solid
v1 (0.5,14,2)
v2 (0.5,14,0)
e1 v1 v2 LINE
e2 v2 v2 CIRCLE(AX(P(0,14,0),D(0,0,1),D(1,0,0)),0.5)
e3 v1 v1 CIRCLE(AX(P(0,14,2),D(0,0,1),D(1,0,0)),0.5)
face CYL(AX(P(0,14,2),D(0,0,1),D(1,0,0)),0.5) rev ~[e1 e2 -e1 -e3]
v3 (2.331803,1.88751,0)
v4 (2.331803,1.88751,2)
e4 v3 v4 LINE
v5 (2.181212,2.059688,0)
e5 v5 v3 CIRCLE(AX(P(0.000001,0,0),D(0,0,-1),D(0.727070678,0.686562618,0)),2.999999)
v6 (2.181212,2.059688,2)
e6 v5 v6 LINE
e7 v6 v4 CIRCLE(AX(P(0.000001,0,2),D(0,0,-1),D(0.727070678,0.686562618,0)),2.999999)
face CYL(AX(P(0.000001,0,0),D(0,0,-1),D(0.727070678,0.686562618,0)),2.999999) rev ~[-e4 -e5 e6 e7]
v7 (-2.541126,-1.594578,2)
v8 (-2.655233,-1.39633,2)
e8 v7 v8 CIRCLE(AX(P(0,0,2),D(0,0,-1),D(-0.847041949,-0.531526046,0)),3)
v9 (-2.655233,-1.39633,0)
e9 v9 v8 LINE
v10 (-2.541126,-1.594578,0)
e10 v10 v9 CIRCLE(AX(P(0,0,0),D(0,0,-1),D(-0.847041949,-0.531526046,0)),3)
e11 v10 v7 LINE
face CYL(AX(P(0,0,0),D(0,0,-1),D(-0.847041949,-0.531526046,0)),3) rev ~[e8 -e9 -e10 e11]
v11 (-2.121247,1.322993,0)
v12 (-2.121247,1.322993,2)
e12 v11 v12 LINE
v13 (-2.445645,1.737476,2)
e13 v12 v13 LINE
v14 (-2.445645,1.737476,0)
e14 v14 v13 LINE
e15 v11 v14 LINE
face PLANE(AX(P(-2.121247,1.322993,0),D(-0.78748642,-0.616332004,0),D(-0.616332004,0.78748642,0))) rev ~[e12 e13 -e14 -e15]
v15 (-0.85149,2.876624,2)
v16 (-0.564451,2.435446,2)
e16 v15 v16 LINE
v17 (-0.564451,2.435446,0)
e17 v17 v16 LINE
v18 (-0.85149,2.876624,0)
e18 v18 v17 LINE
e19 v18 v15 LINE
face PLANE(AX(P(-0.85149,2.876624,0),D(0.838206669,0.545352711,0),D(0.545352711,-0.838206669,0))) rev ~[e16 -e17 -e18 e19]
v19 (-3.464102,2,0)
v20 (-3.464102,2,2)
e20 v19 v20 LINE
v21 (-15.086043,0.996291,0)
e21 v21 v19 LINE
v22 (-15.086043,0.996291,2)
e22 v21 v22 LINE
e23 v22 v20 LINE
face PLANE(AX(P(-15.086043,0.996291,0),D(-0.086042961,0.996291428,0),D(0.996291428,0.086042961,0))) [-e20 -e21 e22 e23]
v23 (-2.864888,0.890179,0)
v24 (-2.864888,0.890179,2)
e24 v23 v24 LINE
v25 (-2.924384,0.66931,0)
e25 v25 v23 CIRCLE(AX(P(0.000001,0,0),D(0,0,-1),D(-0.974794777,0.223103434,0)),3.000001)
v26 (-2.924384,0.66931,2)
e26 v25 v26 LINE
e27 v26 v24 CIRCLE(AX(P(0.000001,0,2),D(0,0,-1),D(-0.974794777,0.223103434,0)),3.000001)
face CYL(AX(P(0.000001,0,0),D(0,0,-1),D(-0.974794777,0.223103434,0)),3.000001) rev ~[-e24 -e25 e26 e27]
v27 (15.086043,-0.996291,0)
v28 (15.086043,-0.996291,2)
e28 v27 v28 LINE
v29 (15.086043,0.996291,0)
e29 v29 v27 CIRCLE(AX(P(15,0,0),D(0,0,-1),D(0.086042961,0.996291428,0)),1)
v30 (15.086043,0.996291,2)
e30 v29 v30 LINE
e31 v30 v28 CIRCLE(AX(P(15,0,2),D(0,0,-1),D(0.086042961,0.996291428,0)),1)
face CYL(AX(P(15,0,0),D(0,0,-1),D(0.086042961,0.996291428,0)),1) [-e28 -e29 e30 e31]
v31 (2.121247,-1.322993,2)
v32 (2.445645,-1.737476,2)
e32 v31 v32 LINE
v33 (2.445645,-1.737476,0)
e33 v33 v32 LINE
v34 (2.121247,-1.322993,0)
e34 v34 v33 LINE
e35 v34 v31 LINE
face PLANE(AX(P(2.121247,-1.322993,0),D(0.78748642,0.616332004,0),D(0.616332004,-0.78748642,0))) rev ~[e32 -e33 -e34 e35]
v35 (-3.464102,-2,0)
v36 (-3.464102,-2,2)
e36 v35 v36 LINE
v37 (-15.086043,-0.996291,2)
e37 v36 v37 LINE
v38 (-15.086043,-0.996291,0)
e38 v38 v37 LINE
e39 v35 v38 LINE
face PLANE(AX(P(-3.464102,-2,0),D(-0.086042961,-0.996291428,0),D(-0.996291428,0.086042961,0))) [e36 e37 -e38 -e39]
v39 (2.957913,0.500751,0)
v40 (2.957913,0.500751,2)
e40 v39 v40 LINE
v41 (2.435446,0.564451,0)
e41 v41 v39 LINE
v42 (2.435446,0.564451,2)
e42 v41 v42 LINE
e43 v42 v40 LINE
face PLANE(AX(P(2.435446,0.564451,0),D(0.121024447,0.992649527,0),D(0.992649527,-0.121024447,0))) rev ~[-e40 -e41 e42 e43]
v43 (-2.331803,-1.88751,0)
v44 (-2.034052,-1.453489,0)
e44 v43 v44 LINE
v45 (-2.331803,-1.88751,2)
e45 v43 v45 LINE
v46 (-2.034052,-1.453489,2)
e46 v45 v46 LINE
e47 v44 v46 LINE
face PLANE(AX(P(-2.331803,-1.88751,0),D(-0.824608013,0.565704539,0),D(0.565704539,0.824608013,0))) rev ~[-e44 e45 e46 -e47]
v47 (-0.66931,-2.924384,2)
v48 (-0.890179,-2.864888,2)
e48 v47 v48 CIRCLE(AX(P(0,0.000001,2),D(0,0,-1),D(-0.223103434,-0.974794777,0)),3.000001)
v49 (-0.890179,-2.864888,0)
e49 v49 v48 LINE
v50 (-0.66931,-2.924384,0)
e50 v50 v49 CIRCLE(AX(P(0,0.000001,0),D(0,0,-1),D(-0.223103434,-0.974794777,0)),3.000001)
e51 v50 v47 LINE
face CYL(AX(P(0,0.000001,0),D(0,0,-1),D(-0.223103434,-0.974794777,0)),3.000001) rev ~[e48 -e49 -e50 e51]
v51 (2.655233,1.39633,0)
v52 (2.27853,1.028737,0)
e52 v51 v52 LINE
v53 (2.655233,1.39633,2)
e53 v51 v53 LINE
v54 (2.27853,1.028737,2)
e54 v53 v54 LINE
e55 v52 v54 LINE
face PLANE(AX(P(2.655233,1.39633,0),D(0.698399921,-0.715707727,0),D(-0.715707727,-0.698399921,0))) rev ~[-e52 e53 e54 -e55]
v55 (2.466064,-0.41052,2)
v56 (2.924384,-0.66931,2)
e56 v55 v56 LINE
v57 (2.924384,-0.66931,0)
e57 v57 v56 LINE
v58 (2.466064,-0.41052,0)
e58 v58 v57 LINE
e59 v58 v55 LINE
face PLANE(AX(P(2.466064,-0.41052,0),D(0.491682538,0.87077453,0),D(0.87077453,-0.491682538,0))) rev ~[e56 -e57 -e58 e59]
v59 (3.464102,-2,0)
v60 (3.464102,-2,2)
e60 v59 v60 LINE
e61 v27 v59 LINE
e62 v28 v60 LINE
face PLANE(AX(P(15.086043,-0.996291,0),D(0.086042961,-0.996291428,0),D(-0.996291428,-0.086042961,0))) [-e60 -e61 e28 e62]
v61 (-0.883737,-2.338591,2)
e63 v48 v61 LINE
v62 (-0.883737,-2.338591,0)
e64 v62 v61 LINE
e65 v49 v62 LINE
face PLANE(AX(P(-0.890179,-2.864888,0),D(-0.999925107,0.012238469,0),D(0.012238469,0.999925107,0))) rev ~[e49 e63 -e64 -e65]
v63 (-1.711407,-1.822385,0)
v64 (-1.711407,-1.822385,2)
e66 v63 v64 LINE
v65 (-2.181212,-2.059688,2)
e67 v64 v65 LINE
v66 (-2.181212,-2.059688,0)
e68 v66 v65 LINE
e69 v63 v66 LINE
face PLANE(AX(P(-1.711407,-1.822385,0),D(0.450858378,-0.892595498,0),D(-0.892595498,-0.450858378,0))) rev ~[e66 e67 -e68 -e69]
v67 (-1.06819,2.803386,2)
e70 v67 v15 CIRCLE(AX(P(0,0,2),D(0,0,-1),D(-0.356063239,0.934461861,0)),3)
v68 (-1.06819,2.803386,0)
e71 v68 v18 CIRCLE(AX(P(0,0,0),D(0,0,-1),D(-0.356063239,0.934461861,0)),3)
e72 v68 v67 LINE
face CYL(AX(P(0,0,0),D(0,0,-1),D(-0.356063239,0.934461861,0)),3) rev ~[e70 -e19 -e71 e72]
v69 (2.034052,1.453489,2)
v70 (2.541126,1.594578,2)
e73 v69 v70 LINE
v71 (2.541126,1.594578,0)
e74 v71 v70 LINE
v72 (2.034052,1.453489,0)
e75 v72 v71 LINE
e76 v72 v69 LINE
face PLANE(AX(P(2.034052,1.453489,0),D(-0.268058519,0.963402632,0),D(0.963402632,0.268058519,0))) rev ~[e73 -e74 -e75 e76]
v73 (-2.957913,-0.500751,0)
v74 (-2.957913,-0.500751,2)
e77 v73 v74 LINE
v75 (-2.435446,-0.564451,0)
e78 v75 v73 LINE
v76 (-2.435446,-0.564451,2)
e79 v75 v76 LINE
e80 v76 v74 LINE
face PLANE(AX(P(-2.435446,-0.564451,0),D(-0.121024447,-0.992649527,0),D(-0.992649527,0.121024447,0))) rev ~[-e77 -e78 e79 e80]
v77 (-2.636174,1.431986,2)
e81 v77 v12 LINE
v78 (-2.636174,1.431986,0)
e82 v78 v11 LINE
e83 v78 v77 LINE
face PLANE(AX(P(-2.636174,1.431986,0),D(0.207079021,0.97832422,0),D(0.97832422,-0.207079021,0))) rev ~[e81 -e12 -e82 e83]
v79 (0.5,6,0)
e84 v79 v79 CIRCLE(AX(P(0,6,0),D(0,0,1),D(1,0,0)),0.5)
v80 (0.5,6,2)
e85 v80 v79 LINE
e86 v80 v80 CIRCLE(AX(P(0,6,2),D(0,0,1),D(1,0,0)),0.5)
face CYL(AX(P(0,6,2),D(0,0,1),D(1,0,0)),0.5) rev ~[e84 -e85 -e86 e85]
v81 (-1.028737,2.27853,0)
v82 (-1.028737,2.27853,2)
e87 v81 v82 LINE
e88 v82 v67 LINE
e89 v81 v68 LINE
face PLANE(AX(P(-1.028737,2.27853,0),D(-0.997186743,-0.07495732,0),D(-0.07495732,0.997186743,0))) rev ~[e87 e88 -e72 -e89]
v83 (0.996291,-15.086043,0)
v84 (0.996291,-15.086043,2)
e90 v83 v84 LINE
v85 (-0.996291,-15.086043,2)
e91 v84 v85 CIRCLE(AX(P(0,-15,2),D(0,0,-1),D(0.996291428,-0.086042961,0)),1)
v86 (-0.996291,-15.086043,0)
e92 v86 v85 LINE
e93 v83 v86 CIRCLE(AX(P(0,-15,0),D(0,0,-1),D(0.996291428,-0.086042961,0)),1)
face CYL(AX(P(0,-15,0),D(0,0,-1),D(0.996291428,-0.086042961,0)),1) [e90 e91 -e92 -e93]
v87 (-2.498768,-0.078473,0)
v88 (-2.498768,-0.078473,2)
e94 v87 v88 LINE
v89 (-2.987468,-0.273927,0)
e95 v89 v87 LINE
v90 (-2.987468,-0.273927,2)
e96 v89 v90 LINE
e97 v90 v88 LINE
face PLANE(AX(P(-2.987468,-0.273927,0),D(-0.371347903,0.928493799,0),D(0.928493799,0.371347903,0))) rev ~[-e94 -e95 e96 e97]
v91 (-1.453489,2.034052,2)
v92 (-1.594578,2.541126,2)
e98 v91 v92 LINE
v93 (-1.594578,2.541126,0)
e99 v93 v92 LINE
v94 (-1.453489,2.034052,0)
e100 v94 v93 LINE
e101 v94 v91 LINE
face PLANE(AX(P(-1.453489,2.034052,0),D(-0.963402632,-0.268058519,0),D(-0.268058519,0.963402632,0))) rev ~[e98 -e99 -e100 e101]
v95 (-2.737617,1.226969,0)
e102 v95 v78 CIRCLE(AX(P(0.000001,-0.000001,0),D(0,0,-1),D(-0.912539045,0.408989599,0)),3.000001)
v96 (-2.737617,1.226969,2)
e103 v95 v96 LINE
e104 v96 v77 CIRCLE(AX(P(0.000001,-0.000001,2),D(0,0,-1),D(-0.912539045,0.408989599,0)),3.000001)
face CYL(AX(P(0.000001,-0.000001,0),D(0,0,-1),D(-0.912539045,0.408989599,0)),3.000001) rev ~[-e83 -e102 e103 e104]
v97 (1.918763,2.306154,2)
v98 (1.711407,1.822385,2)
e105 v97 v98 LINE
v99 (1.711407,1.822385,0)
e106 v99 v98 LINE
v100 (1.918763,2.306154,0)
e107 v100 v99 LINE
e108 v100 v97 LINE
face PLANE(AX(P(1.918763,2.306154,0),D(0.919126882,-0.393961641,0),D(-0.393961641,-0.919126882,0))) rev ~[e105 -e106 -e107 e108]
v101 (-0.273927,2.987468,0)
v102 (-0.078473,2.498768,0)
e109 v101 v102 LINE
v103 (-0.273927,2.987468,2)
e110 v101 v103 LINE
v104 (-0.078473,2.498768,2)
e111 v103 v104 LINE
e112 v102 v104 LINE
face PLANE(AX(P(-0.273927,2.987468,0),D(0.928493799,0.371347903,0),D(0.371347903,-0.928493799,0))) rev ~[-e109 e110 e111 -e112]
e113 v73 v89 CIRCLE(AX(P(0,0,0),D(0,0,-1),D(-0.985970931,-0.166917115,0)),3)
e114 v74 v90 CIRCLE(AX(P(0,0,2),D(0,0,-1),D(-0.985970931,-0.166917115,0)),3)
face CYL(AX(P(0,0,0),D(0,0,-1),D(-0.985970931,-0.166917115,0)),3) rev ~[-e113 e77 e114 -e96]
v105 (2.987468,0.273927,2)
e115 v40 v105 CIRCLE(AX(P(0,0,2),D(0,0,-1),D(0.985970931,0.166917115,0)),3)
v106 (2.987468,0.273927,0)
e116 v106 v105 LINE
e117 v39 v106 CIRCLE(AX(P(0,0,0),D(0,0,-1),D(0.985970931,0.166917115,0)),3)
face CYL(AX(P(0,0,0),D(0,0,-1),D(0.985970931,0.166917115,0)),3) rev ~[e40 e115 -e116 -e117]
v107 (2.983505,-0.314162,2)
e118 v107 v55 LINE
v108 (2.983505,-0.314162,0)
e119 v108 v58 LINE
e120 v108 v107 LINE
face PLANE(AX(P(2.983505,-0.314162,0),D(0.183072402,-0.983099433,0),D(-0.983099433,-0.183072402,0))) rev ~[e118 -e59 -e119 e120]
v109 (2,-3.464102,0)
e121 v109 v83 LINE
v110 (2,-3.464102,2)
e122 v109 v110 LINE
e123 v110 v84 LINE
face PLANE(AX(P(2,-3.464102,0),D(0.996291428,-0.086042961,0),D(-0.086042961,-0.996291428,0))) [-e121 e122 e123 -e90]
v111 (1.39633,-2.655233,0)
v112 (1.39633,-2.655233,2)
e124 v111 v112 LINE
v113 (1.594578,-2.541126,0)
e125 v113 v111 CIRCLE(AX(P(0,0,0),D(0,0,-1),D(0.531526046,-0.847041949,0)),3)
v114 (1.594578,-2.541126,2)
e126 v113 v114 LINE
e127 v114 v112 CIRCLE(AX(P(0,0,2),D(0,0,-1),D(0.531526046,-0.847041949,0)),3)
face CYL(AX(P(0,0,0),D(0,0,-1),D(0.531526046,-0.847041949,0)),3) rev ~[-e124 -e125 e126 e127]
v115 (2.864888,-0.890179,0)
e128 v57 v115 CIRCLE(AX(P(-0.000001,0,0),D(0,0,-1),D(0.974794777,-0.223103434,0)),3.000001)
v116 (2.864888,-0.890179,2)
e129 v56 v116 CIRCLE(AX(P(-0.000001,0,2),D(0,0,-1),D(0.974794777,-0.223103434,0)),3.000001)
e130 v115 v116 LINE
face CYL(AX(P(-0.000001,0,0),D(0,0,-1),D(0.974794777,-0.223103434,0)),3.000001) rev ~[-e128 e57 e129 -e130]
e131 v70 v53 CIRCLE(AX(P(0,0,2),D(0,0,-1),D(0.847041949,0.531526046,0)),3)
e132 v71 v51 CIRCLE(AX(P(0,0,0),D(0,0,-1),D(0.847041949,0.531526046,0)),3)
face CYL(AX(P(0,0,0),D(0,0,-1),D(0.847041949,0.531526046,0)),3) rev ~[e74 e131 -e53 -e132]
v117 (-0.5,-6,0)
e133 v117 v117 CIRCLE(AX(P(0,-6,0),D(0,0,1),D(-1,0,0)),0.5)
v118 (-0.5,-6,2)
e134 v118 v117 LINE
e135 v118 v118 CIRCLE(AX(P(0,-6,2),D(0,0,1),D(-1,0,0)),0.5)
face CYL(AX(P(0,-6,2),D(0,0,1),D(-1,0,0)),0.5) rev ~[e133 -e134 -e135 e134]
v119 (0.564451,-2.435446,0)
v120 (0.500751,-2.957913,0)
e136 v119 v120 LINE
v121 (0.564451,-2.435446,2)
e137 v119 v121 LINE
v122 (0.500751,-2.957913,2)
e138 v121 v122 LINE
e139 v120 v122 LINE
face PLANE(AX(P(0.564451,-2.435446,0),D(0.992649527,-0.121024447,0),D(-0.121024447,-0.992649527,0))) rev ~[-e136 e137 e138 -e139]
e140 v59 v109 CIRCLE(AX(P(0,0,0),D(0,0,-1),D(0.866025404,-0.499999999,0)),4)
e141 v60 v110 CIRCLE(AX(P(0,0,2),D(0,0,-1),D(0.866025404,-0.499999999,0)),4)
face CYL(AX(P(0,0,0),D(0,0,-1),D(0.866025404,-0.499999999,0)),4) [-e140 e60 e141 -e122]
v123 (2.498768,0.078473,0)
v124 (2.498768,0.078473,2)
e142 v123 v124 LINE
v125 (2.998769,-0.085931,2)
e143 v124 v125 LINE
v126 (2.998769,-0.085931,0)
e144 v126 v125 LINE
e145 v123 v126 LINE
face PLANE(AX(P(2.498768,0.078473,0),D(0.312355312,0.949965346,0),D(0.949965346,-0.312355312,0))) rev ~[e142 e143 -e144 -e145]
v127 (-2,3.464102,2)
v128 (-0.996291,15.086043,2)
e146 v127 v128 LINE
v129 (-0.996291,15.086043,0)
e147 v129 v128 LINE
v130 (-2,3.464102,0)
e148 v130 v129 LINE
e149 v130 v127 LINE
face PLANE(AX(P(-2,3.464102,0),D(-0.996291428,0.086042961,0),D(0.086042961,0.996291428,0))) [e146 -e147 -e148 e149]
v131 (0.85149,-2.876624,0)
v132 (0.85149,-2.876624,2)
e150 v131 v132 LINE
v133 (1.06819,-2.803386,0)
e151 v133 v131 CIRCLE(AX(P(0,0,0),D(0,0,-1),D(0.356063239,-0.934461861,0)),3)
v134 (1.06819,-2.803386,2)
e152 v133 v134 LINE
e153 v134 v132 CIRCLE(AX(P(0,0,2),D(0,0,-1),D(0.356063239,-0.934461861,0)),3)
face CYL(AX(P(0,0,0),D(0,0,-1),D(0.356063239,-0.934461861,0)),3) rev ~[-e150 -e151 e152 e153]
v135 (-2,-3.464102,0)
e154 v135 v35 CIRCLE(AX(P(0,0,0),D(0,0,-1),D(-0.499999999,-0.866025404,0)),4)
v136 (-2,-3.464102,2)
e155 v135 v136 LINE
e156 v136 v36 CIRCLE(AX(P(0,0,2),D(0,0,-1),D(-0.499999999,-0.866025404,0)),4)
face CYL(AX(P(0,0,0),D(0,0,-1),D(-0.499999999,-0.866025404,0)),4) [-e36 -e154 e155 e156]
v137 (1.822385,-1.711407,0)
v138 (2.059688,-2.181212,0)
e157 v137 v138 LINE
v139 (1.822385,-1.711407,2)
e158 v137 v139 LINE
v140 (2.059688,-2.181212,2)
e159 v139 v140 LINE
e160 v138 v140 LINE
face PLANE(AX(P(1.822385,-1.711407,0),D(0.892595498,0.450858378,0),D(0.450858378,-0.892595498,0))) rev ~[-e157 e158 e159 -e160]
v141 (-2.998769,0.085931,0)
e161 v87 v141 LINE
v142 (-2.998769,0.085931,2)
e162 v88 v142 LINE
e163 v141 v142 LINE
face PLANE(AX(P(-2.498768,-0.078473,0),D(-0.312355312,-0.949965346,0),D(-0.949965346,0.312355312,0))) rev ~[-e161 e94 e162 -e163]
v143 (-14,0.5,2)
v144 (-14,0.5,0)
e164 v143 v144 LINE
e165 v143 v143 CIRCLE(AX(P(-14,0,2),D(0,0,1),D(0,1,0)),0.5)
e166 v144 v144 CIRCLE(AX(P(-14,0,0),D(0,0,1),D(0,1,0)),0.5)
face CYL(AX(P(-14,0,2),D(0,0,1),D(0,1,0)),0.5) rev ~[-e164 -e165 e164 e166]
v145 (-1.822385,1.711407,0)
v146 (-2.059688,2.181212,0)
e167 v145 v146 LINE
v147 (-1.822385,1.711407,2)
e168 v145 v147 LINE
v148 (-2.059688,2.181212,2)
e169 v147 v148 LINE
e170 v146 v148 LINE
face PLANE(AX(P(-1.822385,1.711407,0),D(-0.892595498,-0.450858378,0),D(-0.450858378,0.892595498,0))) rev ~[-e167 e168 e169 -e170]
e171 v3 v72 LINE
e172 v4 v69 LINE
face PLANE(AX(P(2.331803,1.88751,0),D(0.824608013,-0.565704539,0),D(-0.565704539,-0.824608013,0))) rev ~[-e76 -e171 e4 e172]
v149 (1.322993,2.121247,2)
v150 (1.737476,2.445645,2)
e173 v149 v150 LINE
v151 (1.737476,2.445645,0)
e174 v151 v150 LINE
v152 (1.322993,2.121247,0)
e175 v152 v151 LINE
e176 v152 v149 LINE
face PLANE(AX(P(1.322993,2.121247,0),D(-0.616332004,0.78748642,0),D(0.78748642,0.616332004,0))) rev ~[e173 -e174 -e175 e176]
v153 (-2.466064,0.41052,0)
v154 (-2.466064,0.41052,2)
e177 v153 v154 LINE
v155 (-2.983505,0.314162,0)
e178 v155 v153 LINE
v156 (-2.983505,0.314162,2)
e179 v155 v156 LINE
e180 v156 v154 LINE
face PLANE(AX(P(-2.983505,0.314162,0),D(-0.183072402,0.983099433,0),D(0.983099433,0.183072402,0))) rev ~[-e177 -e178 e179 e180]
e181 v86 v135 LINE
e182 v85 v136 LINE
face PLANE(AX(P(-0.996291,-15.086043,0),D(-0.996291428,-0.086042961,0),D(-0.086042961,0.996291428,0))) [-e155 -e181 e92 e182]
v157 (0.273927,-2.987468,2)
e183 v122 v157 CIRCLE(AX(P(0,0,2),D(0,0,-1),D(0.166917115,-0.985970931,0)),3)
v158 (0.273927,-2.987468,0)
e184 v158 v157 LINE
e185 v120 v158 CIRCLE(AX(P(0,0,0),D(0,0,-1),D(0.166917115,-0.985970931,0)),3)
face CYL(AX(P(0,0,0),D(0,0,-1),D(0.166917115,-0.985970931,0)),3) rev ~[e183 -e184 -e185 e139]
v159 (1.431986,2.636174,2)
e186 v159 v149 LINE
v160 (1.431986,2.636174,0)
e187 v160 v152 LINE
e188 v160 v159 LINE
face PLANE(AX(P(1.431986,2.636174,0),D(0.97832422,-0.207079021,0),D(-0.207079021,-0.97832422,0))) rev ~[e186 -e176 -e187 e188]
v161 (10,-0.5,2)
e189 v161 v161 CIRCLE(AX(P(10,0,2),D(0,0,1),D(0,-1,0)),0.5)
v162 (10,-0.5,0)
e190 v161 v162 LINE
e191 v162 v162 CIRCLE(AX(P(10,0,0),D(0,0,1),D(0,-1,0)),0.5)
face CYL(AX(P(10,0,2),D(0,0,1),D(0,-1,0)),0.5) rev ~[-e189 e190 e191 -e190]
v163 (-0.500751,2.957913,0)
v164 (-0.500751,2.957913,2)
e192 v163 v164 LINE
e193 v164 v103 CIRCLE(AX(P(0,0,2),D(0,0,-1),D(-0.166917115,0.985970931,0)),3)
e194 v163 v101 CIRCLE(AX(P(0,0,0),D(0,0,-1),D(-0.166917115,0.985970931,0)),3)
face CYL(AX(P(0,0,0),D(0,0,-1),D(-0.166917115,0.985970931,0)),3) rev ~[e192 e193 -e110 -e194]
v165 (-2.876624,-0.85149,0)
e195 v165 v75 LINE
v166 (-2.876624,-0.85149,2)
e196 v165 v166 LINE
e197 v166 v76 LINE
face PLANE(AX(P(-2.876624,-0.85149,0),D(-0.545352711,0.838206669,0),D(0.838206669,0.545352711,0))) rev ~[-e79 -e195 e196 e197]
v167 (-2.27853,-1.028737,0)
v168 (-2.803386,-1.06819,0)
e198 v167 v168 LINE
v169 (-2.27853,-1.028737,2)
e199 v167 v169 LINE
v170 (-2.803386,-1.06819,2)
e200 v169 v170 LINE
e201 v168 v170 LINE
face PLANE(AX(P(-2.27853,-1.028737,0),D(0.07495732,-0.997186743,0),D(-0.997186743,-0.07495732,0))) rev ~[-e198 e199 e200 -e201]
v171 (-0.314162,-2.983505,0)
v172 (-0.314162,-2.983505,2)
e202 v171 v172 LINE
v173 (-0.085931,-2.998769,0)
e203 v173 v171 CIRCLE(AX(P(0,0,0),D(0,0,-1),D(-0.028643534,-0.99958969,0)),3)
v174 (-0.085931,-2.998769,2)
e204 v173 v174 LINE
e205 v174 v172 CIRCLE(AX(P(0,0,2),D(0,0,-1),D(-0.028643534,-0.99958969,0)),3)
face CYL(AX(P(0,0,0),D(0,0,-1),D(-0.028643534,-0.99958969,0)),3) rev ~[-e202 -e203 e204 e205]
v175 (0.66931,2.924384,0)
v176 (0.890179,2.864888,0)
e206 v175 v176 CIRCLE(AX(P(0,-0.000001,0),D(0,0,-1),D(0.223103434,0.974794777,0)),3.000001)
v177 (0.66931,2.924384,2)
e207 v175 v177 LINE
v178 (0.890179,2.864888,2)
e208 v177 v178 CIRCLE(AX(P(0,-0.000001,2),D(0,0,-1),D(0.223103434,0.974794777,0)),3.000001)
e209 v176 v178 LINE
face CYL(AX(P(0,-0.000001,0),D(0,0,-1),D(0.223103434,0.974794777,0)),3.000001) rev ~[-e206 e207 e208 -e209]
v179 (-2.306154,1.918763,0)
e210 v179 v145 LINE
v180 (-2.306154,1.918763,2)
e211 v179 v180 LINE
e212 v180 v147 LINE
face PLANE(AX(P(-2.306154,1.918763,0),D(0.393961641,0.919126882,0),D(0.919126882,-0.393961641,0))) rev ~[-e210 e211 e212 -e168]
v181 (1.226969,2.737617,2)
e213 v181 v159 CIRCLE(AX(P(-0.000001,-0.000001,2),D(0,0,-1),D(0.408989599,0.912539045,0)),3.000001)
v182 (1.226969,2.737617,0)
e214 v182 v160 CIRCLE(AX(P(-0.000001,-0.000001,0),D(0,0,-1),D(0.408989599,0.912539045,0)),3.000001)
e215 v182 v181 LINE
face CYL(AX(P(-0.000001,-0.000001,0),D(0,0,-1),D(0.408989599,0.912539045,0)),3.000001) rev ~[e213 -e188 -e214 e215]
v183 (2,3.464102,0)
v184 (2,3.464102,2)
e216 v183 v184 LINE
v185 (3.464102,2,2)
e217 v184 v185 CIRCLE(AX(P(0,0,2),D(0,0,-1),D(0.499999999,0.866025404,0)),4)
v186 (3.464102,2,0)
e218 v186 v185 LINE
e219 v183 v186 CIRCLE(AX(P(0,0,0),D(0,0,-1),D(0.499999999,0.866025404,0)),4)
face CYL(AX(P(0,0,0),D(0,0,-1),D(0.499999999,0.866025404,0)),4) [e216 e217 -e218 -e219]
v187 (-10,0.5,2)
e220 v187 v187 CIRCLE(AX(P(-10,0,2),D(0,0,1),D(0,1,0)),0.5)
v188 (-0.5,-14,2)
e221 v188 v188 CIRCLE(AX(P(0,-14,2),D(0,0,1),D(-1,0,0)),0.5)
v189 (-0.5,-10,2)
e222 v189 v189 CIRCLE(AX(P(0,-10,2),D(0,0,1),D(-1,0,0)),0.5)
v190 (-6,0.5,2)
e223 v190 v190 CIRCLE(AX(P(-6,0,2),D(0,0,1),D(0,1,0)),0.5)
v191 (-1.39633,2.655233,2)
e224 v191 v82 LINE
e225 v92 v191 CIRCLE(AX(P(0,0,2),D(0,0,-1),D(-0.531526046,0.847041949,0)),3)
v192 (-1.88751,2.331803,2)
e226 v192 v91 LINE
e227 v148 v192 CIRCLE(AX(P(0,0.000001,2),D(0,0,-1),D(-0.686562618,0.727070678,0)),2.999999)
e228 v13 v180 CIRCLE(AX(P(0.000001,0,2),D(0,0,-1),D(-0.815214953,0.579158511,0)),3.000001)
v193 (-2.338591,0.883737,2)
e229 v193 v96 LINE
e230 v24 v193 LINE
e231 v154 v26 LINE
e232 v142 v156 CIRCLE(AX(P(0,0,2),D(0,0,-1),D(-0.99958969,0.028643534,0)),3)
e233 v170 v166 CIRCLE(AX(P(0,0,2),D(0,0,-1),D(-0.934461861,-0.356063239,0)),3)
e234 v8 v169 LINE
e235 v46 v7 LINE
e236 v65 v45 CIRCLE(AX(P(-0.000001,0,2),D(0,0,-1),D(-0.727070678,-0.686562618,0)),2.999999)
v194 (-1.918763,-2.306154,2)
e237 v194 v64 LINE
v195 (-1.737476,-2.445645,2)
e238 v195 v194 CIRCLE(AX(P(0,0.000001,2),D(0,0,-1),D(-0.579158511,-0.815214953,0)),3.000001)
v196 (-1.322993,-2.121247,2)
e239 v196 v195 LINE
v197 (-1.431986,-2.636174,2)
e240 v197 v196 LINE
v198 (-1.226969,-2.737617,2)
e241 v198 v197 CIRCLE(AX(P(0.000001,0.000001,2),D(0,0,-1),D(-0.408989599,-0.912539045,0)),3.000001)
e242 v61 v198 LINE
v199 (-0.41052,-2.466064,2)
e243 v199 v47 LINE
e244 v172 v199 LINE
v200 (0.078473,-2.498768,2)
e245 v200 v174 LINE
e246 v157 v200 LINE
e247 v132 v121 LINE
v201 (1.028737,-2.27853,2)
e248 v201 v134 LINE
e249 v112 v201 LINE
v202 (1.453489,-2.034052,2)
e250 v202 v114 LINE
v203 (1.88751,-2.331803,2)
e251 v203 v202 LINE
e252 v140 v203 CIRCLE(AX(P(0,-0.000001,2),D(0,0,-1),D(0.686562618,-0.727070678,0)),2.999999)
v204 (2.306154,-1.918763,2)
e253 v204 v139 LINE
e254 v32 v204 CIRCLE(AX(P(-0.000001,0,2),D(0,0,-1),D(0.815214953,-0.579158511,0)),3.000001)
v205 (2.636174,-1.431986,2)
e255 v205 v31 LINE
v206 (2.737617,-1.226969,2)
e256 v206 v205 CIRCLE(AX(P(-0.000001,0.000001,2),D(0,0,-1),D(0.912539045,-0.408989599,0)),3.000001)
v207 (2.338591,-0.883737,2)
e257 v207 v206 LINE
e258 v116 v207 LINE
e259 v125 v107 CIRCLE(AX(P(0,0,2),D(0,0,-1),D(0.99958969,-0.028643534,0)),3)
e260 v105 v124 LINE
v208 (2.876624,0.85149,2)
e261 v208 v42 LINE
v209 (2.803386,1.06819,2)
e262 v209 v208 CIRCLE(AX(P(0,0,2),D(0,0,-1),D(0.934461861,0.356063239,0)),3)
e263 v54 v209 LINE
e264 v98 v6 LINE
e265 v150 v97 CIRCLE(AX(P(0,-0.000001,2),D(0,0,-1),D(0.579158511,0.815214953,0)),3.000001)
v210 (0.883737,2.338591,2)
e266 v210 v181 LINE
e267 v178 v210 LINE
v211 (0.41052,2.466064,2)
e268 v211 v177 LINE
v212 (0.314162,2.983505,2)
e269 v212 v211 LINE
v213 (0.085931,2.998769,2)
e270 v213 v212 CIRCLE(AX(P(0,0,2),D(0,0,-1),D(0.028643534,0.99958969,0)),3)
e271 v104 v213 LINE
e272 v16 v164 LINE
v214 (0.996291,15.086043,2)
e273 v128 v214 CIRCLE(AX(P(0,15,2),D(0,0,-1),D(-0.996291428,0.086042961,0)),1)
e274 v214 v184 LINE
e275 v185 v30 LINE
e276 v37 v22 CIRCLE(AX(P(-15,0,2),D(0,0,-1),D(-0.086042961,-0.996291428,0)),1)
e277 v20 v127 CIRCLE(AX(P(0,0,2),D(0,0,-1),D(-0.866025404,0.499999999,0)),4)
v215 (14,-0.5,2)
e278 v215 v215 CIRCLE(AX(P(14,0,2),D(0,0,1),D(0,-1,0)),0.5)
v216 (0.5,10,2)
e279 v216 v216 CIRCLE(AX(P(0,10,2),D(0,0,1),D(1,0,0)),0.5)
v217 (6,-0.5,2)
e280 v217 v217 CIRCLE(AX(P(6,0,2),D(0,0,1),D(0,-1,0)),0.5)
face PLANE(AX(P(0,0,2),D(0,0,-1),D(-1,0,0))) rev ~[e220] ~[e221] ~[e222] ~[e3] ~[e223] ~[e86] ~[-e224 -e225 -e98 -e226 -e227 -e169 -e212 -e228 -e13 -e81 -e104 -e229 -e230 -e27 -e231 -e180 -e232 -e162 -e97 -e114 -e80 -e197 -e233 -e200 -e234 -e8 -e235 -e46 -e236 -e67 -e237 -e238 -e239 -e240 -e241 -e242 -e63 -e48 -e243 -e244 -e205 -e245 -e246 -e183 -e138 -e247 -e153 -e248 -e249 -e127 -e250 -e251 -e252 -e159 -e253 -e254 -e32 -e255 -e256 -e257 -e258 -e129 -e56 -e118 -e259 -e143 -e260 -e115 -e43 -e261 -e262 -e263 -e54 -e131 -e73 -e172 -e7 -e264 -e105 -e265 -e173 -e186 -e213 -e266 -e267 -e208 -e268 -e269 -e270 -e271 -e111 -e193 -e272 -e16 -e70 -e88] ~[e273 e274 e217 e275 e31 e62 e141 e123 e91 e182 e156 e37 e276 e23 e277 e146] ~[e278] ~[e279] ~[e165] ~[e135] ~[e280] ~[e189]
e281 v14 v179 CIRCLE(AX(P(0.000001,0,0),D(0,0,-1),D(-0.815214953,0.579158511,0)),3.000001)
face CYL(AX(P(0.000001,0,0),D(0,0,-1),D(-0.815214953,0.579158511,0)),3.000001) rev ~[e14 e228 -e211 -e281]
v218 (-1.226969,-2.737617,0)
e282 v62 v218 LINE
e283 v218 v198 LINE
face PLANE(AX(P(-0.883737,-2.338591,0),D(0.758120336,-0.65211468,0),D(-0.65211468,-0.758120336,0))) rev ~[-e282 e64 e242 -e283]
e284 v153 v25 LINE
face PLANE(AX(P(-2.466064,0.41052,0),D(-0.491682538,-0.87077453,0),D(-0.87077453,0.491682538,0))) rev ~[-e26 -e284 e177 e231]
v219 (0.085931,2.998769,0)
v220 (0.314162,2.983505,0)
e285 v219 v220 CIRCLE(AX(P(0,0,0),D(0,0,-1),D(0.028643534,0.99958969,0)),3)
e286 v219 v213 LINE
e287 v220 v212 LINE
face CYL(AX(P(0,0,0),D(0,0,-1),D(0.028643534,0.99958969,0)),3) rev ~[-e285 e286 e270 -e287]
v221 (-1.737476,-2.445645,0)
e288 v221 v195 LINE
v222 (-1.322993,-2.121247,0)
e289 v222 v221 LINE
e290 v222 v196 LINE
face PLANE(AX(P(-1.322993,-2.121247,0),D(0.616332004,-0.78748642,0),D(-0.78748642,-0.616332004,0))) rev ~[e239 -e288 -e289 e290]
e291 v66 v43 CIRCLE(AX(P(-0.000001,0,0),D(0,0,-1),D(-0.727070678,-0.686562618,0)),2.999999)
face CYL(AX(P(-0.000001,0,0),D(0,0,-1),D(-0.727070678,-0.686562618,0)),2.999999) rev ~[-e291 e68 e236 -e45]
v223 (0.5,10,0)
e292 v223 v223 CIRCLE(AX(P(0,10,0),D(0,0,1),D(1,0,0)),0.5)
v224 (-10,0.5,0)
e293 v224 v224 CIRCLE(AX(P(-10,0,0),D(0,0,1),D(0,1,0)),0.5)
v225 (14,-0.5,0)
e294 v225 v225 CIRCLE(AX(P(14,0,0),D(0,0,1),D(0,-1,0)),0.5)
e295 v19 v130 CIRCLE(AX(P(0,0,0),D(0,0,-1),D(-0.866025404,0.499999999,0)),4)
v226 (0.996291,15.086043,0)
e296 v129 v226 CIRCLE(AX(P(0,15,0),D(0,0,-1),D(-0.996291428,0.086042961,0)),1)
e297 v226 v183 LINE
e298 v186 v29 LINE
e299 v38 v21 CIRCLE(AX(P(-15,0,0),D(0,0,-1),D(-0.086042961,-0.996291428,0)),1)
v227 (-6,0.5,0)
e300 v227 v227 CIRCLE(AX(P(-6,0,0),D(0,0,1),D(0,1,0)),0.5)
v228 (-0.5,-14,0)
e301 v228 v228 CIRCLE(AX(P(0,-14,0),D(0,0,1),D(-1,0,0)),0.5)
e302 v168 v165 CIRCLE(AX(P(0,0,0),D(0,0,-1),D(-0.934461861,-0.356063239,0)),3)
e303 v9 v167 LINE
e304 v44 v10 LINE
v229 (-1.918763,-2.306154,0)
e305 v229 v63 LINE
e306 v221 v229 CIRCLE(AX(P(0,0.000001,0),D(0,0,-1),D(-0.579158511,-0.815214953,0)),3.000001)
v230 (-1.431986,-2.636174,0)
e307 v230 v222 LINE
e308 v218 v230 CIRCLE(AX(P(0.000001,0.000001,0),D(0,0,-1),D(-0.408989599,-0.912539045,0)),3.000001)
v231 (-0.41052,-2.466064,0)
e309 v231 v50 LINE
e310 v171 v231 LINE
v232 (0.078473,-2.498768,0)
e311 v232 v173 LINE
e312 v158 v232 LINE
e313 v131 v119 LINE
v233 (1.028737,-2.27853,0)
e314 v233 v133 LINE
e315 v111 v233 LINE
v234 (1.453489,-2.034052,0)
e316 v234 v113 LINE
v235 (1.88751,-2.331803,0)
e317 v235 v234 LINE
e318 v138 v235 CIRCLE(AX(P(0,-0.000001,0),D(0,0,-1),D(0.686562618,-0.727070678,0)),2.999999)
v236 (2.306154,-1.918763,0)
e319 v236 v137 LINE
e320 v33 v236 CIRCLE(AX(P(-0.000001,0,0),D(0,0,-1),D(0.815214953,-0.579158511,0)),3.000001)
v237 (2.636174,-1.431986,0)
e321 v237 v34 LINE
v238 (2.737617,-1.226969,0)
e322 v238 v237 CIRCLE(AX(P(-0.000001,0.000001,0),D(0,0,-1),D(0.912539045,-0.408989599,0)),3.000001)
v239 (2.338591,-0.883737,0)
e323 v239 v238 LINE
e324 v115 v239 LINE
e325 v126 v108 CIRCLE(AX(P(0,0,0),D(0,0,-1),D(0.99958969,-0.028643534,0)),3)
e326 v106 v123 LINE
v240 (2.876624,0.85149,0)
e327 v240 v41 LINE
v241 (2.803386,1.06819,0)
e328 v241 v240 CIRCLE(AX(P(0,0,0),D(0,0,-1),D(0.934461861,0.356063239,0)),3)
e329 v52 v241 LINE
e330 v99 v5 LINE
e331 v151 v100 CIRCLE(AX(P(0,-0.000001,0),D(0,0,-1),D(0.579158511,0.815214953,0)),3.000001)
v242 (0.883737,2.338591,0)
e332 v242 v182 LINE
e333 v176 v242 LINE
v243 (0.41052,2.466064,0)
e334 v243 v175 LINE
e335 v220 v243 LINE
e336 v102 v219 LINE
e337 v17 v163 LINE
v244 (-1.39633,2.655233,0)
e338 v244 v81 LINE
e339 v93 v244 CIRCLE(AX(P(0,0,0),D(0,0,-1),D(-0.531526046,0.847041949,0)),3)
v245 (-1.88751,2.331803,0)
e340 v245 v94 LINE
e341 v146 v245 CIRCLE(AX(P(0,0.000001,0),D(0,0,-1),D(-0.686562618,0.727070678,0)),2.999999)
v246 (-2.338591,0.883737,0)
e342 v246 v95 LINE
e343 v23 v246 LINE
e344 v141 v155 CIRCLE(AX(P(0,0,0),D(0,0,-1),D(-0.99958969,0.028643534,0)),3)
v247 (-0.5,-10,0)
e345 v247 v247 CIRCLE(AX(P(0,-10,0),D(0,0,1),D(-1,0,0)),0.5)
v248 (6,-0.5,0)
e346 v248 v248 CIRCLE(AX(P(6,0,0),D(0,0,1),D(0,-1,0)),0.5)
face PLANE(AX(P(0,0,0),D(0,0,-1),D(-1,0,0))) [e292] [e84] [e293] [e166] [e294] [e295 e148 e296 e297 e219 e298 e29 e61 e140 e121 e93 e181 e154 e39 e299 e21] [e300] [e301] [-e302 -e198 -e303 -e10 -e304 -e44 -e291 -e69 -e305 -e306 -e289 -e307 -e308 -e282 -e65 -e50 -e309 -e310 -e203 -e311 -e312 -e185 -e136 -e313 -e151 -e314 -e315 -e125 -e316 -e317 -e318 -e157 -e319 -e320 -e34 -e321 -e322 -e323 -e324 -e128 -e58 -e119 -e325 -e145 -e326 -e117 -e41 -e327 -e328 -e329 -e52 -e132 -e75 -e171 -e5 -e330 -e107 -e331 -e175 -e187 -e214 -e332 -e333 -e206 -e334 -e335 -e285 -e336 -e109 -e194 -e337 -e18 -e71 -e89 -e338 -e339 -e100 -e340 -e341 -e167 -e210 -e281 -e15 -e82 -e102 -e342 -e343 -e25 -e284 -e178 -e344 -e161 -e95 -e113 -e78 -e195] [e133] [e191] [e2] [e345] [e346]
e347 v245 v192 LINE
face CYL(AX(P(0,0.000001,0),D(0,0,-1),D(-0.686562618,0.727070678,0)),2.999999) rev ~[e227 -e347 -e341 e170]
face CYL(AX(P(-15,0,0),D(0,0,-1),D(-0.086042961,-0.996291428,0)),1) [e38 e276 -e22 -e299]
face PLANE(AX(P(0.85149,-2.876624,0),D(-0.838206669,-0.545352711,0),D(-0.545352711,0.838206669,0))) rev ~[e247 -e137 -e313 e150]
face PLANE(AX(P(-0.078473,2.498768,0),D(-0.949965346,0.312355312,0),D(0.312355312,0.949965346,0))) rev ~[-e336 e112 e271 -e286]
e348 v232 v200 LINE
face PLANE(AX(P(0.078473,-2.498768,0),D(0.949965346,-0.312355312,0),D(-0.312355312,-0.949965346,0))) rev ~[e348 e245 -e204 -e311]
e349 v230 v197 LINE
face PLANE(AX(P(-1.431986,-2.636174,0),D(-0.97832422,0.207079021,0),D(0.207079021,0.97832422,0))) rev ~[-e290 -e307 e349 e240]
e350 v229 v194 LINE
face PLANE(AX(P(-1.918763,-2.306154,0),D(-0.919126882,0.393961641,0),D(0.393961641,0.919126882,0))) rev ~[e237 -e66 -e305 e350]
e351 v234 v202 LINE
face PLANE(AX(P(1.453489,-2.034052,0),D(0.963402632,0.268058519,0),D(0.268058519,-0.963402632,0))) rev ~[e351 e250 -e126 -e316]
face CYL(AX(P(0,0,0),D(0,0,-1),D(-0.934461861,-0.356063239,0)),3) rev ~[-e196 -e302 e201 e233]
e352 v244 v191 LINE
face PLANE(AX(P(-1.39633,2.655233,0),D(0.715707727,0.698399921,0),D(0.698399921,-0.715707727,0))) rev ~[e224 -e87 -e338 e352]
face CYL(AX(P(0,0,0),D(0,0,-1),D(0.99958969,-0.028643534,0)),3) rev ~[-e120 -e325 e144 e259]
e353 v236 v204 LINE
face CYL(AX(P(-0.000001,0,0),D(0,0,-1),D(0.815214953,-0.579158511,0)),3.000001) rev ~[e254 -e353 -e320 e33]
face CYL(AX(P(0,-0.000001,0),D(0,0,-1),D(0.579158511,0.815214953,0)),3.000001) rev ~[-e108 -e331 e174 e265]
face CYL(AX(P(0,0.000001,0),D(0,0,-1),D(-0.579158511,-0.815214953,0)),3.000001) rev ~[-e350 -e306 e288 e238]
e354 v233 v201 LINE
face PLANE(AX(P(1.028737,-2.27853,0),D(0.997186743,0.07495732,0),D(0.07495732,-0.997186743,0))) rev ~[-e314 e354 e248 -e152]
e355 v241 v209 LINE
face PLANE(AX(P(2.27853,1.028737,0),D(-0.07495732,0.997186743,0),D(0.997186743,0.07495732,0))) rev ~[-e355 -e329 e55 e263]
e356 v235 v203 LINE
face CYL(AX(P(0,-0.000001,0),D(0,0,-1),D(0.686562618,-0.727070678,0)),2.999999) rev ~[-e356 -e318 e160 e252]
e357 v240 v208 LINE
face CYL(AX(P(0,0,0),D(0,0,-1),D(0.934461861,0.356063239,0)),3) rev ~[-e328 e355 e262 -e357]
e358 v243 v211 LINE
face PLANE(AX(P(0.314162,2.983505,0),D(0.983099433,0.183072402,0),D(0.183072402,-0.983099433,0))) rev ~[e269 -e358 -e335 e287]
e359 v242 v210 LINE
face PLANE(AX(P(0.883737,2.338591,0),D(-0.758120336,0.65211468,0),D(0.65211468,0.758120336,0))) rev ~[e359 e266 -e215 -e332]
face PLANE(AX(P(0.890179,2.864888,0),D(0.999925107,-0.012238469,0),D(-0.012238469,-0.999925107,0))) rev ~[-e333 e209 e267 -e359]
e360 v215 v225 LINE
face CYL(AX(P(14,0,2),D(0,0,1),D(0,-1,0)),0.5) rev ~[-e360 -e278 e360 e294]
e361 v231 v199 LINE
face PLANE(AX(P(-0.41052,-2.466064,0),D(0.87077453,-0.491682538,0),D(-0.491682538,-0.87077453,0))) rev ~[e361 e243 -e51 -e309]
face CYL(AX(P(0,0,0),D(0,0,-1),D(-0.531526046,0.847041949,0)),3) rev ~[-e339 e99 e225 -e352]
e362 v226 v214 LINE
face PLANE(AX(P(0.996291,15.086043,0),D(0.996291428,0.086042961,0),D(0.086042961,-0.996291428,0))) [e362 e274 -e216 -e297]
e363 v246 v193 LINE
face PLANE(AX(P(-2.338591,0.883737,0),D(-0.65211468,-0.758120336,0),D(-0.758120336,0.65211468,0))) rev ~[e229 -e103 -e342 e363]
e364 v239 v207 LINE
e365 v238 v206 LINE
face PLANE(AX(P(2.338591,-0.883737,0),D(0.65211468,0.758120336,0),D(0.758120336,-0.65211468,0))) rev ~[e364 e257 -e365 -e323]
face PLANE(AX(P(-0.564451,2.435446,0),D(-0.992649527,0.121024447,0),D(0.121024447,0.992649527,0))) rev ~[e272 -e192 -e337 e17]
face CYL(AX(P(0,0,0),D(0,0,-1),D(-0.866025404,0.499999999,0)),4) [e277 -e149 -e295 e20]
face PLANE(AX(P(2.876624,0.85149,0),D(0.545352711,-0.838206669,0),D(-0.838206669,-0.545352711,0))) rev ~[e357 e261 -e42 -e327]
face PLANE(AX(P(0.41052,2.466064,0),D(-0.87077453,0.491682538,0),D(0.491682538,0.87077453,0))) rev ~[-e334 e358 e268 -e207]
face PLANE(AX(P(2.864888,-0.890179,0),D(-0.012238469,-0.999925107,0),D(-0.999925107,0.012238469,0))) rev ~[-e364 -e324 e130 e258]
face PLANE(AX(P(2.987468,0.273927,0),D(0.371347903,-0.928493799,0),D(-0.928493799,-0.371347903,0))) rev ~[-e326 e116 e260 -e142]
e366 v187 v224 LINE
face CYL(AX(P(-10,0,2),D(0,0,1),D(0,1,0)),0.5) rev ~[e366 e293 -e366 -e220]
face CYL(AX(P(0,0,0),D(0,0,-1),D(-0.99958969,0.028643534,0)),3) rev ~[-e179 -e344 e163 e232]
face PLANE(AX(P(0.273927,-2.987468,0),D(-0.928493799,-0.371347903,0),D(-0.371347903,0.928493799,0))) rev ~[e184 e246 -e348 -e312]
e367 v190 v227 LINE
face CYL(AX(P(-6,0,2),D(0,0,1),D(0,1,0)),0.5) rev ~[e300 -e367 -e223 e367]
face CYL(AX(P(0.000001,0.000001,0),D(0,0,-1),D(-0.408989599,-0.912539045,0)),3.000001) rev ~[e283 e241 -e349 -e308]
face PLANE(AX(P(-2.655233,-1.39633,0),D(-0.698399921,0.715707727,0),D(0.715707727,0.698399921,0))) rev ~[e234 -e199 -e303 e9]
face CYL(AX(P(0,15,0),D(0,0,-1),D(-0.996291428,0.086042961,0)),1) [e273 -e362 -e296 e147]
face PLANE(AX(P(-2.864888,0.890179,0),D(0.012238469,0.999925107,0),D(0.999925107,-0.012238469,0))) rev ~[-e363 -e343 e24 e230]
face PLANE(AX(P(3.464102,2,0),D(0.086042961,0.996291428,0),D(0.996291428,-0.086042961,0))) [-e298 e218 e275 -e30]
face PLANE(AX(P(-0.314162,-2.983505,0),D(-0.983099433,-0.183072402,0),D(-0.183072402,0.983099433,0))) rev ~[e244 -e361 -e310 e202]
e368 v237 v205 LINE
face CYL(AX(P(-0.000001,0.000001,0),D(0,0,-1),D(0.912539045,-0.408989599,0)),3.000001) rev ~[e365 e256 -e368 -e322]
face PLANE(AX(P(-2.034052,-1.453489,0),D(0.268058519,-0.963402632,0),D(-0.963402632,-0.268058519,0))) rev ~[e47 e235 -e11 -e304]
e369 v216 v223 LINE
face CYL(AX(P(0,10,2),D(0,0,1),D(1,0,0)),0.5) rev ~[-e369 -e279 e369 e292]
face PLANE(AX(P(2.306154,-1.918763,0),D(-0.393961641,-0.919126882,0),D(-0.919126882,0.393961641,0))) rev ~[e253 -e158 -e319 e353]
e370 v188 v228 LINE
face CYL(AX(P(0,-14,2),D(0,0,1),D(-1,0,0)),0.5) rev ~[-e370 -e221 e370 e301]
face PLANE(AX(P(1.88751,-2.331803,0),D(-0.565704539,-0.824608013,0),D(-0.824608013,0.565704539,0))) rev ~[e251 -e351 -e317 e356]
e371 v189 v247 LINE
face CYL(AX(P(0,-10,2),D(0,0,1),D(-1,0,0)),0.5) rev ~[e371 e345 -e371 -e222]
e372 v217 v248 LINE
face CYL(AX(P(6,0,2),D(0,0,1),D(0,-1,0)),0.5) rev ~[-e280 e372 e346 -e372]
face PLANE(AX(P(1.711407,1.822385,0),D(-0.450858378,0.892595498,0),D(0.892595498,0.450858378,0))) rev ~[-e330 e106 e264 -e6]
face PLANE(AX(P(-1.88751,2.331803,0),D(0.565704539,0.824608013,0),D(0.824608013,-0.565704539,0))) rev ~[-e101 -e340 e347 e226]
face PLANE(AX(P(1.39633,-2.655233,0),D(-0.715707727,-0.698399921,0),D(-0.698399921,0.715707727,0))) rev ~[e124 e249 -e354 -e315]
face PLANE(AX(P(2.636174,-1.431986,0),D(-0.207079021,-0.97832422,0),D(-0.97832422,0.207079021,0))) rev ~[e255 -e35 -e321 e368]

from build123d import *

# Parameters (mm, degrees)
EXTRUDE1_DEPTH     = 2
SKETCH2_R          = 0.5
CUT_EXTRUDE1_DEPTH = 2
CIRPATTERN1_COUNT  = 4
CUT_EXTRUDE2_DEPTH = 2


with BuildPart() as part:
    # Sketch1 → Extrude1 (new body)
    with BuildSketch(Plane.XY):
        with BuildLine():
            Line((-2, 3.464101615), (-0.996291428, 15.086042961))
            ThreePointArc((-0.996291428, 15.086042961), (0, 16), (0.996291428, 15.086042961))
            Line((0.996291428, 15.086042961), (2, 3.464101615))
            ThreePointArc((2, 3.464101615), (2.828427125, 2.828427125), (3.464101615, 2))
            Line((3.464101615, 2), (15.086042961, 0.996291428))
            ThreePointArc((15.086042961, 0.996291428), (16, 0), (15.086042961, -0.996291428))
            Line((15.086042961, -0.996291428), (3.464101615, -2))
            ThreePointArc((3.464101615, -2), (2.828427125, -2.828427125), (2, -3.464101615))
            Line((2, -3.464101615), (0.996291428, -15.086042961))
            ThreePointArc((0.996291428, -15.086042961), (0, -16), (-0.996291428, -15.086042961))
            Line((-0.996291428, -15.086042961), (-2, -3.464101615))
            ThreePointArc((-2, -3.464101615), (-2.828427125, -2.828427125), (-3.464101615, -2))
            Line((-3.464101615, -2), (-15.086042961, -0.996291428))
            ThreePointArc((-15.086042961, -0.996291428), (-16, 0), (-15.086042961, 0.996291428))
            Line((-15.086042961, 0.996291428), (-3.464101615, 2))
            ThreePointArc((-3.464101615, 2), (-2.828427125, 2.828427125), (-2, 3.464101615))
        make_face()
    extrude(amount=EXTRUDE1_DEPTH)

    # Sketch2 → Cut-Extrude1 (cut)
    with BuildSketch(Plane.XY.offset(2)):
        with Locations((0, 14)):
            Circle(SKETCH2_R)
        with Locations((0, 6)):
            Circle(SKETCH2_R)
        with Locations((0, 10)):
            Circle(SKETCH2_R)
    cut_extrude1 = extrude(amount=-CUT_EXTRUDE1_DEPTH, mode=Mode.SUBTRACT)

    # CirPattern1: Cut-Extrude1 ×4 about axis
    cirpattern1_axis = Axis((0, 0, 0), (0, 0, 1))
    for i in range(1, CIRPATTERN1_COUNT):
        add(cut_extrude1.rotate(cirpattern1_axis, i * 360 / CIRPATTERN1_COUNT), mode=Mode.SUBTRACT)

    # Sketch3 → Cut-Extrude2 (cut)
    with BuildSketch(Plane(origin=(0, 0, 0), x_dir=(-1, 0, 0), z_dir=(0, 0, -1))):
        with BuildLine():
            Line((2.655233037, -1.396330018), (2.278530277, -1.02873698))
            Line((2.278530277, -1.02873698), (2.803385583, -1.068189718))
            ThreePointArc((2.803385583, -1.068189718), (2.842070866, -0.960537971), (2.876623952, -0.85148966))
            Line((2.876623952, -0.85148966), (2.435445586, -0.564450882))
            Line((2.435445586, -0.564450882), (2.957912791, -0.500751356))
            ThreePointArc((2.957912791, -0.500751356), (2.974852933, -0.387620982), (2.987467821, -0.273927032))
            Line((2.987467821, -0.273927032), (2.498768086, -0.078473253))
            Line((2.498768086, -0.078473253), (2.998769069, 0.0859306))
            ThreePointArc((2.998769069, 0.0859306), (2.99331307, 0.200192063), (2.983504977, 0.314162459))
            Line((2.983504977, 0.314162459), (2.46606433, 0.410520059))
            Line((2.46606433, 0.410520059), (2.924384334, 0.669310291))
            ThreePointArc((2.924384334, 0.669310291), (2.896741865, 0.780311839), (2.864887711, 0.890178862))
            Line((2.864887711, 0.890178862), (2.338591105, 0.883737315))
            Line((2.338591105, 0.883737315), (2.737617149, 1.226968763))
            ThreePointArc((2.737617149, 1.226968763), (2.688850494, 1.330444669), (2.636174416, 1.431986191))
            Line((2.636174416, 1.431986191), (2.121247135, 1.322993042))
            Line((2.121247135, 1.322993042), (2.445644872, 1.737475514))
            ThreePointArc((2.445644872, 1.737475514), (2.377628107, 1.829449257), (2.306154417, 1.918763093))
            Line((2.306154417, 1.918763093), (1.822384828, 1.711406889))
            Line((1.822384828, 1.711406889), (2.059687834, 2.181212054))
            ThreePointArc((2.059687834, 2.181212054), (1.975034805, 2.258149136), (1.887510196, 2.331803006))
            Line((1.887510196, 2.331803006), (1.453489293, 2.034052328))
            Line((1.453489293, 2.034052328), (1.594578148, 2.541125839))
            ThreePointArc((1.594578148, 2.541125839), (1.496542023, 2.600069609), (1.396330018, 2.655233037))
            Line((1.396330018, 2.655233037), (1.02873698, 2.278530277))
            Line((1.02873698, 2.278530277), (1.068189718, 2.803385583))
            ThreePointArc((1.068189718, 2.803385583), (0.960537971, 2.842070866), (0.85148966, 2.876623952))
            Line((0.85148966, 2.876623952), (0.564450882, 2.435445586))
            Line((0.564450882, 2.435445586), (0.500751356, 2.957912791))
            ThreePointArc((0.500751356, 2.957912791), (0.387620982, 2.974852933), (0.273927032, 2.987467821))
            Line((0.273927032, 2.987467821), (0.078473253, 2.498768086))
            Line((0.078473253, 2.498768086), (-0.0859306, 2.998769069))
            ThreePointArc((-0.0859306, 2.998769069), (-0.200192063, 2.99331307), (-0.314162459, 2.983504977))
            Line((-0.314162459, 2.983504977), (-0.410520059, 2.46606433))
            Line((-0.410520059, 2.46606433), (-0.669310291, 2.924384334))
            ThreePointArc((-0.669310291, 2.924384334), (-0.780311839, 2.896741865), (-0.890178862, 2.864887711))
            Line((-0.890178862, 2.864887711), (-0.883737315, 2.338591105))
            Line((-0.883737315, 2.338591105), (-1.226968763, 2.737617149))
            ThreePointArc((-1.226968763, 2.737617149), (-1.330444669, 2.688850494), (-1.431986191, 2.636174416))
            Line((-1.431986191, 2.636174416), (-1.322993042, 2.121247135))
            Line((-1.322993042, 2.121247135), (-1.737475514, 2.445644872))
            ThreePointArc((-1.737475514, 2.445644872), (-1.829449257, 2.377628107), (-1.918763093, 2.306154417))
            Line((-1.918763093, 2.306154417), (-1.711406889, 1.822384828))
            Line((-1.711406889, 1.822384828), (-2.181212054, 2.059687834))
            ThreePointArc((-2.181212054, 2.059687834), (-2.258149136, 1.975034805), (-2.331803006, 1.887510196))
            Line((-2.331803006, 1.887510196), (-2.034052328, 1.453489293))
            Line((-2.034052328, 1.453489293), (-2.541125839, 1.594578148))
            ThreePointArc((-2.541125839, 1.594578148), (-2.600069609, 1.496542023), (-2.655233037, 1.396330018))
            Line((-2.655233037, 1.396330018), (-2.278530277, 1.02873698))
            Line((-2.278530277, 1.02873698), (-2.803385583, 1.068189718))
            ThreePointArc((-2.803385583, 1.068189718), (-2.842070866, 0.960537971), (-2.876623952, 0.85148966))
            Line((-2.876623952, 0.85148966), (-2.435445586, 0.564450882))
            Line((-2.435445586, 0.564450882), (-2.957912791, 0.500751356))
            ThreePointArc((-2.957912791, 0.500751356), (-2.974852933, 0.387620982), (-2.987467821, 0.273927032))
            Line((-2.987467821, 0.273927032), (-2.498768086, 0.078473253))
            Line((-2.498768086, 0.078473253), (-2.998769069, -0.0859306))
            ThreePointArc((-2.998769069, -0.0859306), (-2.99331307, -0.200192063), (-2.983504977, -0.314162459))
            Line((-2.983504977, -0.314162459), (-2.46606433, -0.410520059))
            Line((-2.46606433, -0.410520059), (-2.924384334, -0.669310291))
            ThreePointArc((-2.924384334, -0.669310291), (-2.896741865, -0.780311839), (-2.864887711, -0.890178862))
            Line((-2.864887711, -0.890178862), (-2.338591105, -0.883737315))
            Line((-2.338591105, -0.883737315), (-2.737617149, -1.226968763))
            ThreePointArc((-2.737617149, -1.226968763), (-2.688850494, -1.330444669), (-2.636174416, -1.431986191))
            Line((-2.636174416, -1.431986191), (-2.121247135, -1.322993042))
            Line((-2.121247135, -1.322993042), (-2.445644872, -1.737475514))
            ThreePointArc((-2.445644872, -1.737475514), (-2.377628107, -1.829449257), (-2.306154417, -1.918763093))
            Line((-2.306154417, -1.918763093), (-1.822384828, -1.711406889))
            Line((-1.822384828, -1.711406889), (-2.059687834, -2.181212054))
            ThreePointArc((-2.059687834, -2.181212054), (-1.975034805, -2.258149136), (-1.887510196, -2.331803006))
            Line((-1.887510196, -2.331803006), (-1.453489293, -2.034052328))
            Line((-1.453489293, -2.034052328), (-1.594578148, -2.541125839))
            ThreePointArc((-1.594578148, -2.541125839), (-1.496542023, -2.600069609), (-1.396330018, -2.655233037))
            Line((-1.396330018, -2.655233037), (-1.02873698, -2.278530277))
            Line((-1.02873698, -2.278530277), (-1.068189718, -2.803385583))
            ThreePointArc((-1.068189718, -2.803385583), (-0.960537971, -2.842070866), (-0.85148966, -2.876623952))
            Line((-0.85148966, -2.876623952), (-0.564450882, -2.435445586))
            Line((-0.564450882, -2.435445586), (-0.500751356, -2.957912791))
            ThreePointArc((-0.500751356, -2.957912791), (-0.387620982, -2.974852933), (-0.273927032, -2.987467821))
            Line((-0.273927032, -2.987467821), (-0.078473253, -2.498768086))
            Line((-0.078473253, -2.498768086), (0.0859306, -2.998769069))
            ThreePointArc((0.0859306, -2.998769069), (0.200192063, -2.99331307), (0.314162459, -2.983504977))
            Line((0.314162459, -2.983504977), (0.410520059, -2.46606433))
            Line((0.410520059, -2.46606433), (0.669310291, -2.924384334))
            ThreePointArc((0.669310291, -2.924384334), (0.780311839, -2.896741865), (0.890178862, -2.864887711))
            Line((0.890178862, -2.864887711), (0.883737315, -2.338591105))
            Line((0.883737315, -2.338591105), (1.226968763, -2.737617149))
            ThreePointArc((1.226968763, -2.737617149), (1.330444669, -2.688850494), (1.431986191, -2.636174416))
            Line((1.431986191, -2.636174416), (1.322993042, -2.121247135))
            Line((1.322993042, -2.121247135), (1.737475514, -2.445644872))
            ThreePointArc((1.737475514, -2.445644872), (1.829449257, -2.377628107), (1.918763093, -2.306154417))
            Line((1.918763093, -2.306154417), (1.711406889, -1.822384828))
            Line((1.711406889, -1.822384828), (2.181212054, -2.059687834))
            ThreePointArc((2.181212054, -2.059687834), (2.258149136, -1.975034805), (2.331803006, -1.887510196))
            Line((2.331803006, -1.887510196), (2.034052328, -1.453489293))
            Line((2.034052328, -1.453489293), (2.541125839, -1.594578148))
            ThreePointArc((2.541125839, -1.594578148), (2.600069609, -1.496542023), (2.655233037, -1.396330018))
        make_face()
    extrude(amount=-CUT_EXTRUDE2_DEPTH, mode=Mode.SUBTRACT)


solid = part.part
